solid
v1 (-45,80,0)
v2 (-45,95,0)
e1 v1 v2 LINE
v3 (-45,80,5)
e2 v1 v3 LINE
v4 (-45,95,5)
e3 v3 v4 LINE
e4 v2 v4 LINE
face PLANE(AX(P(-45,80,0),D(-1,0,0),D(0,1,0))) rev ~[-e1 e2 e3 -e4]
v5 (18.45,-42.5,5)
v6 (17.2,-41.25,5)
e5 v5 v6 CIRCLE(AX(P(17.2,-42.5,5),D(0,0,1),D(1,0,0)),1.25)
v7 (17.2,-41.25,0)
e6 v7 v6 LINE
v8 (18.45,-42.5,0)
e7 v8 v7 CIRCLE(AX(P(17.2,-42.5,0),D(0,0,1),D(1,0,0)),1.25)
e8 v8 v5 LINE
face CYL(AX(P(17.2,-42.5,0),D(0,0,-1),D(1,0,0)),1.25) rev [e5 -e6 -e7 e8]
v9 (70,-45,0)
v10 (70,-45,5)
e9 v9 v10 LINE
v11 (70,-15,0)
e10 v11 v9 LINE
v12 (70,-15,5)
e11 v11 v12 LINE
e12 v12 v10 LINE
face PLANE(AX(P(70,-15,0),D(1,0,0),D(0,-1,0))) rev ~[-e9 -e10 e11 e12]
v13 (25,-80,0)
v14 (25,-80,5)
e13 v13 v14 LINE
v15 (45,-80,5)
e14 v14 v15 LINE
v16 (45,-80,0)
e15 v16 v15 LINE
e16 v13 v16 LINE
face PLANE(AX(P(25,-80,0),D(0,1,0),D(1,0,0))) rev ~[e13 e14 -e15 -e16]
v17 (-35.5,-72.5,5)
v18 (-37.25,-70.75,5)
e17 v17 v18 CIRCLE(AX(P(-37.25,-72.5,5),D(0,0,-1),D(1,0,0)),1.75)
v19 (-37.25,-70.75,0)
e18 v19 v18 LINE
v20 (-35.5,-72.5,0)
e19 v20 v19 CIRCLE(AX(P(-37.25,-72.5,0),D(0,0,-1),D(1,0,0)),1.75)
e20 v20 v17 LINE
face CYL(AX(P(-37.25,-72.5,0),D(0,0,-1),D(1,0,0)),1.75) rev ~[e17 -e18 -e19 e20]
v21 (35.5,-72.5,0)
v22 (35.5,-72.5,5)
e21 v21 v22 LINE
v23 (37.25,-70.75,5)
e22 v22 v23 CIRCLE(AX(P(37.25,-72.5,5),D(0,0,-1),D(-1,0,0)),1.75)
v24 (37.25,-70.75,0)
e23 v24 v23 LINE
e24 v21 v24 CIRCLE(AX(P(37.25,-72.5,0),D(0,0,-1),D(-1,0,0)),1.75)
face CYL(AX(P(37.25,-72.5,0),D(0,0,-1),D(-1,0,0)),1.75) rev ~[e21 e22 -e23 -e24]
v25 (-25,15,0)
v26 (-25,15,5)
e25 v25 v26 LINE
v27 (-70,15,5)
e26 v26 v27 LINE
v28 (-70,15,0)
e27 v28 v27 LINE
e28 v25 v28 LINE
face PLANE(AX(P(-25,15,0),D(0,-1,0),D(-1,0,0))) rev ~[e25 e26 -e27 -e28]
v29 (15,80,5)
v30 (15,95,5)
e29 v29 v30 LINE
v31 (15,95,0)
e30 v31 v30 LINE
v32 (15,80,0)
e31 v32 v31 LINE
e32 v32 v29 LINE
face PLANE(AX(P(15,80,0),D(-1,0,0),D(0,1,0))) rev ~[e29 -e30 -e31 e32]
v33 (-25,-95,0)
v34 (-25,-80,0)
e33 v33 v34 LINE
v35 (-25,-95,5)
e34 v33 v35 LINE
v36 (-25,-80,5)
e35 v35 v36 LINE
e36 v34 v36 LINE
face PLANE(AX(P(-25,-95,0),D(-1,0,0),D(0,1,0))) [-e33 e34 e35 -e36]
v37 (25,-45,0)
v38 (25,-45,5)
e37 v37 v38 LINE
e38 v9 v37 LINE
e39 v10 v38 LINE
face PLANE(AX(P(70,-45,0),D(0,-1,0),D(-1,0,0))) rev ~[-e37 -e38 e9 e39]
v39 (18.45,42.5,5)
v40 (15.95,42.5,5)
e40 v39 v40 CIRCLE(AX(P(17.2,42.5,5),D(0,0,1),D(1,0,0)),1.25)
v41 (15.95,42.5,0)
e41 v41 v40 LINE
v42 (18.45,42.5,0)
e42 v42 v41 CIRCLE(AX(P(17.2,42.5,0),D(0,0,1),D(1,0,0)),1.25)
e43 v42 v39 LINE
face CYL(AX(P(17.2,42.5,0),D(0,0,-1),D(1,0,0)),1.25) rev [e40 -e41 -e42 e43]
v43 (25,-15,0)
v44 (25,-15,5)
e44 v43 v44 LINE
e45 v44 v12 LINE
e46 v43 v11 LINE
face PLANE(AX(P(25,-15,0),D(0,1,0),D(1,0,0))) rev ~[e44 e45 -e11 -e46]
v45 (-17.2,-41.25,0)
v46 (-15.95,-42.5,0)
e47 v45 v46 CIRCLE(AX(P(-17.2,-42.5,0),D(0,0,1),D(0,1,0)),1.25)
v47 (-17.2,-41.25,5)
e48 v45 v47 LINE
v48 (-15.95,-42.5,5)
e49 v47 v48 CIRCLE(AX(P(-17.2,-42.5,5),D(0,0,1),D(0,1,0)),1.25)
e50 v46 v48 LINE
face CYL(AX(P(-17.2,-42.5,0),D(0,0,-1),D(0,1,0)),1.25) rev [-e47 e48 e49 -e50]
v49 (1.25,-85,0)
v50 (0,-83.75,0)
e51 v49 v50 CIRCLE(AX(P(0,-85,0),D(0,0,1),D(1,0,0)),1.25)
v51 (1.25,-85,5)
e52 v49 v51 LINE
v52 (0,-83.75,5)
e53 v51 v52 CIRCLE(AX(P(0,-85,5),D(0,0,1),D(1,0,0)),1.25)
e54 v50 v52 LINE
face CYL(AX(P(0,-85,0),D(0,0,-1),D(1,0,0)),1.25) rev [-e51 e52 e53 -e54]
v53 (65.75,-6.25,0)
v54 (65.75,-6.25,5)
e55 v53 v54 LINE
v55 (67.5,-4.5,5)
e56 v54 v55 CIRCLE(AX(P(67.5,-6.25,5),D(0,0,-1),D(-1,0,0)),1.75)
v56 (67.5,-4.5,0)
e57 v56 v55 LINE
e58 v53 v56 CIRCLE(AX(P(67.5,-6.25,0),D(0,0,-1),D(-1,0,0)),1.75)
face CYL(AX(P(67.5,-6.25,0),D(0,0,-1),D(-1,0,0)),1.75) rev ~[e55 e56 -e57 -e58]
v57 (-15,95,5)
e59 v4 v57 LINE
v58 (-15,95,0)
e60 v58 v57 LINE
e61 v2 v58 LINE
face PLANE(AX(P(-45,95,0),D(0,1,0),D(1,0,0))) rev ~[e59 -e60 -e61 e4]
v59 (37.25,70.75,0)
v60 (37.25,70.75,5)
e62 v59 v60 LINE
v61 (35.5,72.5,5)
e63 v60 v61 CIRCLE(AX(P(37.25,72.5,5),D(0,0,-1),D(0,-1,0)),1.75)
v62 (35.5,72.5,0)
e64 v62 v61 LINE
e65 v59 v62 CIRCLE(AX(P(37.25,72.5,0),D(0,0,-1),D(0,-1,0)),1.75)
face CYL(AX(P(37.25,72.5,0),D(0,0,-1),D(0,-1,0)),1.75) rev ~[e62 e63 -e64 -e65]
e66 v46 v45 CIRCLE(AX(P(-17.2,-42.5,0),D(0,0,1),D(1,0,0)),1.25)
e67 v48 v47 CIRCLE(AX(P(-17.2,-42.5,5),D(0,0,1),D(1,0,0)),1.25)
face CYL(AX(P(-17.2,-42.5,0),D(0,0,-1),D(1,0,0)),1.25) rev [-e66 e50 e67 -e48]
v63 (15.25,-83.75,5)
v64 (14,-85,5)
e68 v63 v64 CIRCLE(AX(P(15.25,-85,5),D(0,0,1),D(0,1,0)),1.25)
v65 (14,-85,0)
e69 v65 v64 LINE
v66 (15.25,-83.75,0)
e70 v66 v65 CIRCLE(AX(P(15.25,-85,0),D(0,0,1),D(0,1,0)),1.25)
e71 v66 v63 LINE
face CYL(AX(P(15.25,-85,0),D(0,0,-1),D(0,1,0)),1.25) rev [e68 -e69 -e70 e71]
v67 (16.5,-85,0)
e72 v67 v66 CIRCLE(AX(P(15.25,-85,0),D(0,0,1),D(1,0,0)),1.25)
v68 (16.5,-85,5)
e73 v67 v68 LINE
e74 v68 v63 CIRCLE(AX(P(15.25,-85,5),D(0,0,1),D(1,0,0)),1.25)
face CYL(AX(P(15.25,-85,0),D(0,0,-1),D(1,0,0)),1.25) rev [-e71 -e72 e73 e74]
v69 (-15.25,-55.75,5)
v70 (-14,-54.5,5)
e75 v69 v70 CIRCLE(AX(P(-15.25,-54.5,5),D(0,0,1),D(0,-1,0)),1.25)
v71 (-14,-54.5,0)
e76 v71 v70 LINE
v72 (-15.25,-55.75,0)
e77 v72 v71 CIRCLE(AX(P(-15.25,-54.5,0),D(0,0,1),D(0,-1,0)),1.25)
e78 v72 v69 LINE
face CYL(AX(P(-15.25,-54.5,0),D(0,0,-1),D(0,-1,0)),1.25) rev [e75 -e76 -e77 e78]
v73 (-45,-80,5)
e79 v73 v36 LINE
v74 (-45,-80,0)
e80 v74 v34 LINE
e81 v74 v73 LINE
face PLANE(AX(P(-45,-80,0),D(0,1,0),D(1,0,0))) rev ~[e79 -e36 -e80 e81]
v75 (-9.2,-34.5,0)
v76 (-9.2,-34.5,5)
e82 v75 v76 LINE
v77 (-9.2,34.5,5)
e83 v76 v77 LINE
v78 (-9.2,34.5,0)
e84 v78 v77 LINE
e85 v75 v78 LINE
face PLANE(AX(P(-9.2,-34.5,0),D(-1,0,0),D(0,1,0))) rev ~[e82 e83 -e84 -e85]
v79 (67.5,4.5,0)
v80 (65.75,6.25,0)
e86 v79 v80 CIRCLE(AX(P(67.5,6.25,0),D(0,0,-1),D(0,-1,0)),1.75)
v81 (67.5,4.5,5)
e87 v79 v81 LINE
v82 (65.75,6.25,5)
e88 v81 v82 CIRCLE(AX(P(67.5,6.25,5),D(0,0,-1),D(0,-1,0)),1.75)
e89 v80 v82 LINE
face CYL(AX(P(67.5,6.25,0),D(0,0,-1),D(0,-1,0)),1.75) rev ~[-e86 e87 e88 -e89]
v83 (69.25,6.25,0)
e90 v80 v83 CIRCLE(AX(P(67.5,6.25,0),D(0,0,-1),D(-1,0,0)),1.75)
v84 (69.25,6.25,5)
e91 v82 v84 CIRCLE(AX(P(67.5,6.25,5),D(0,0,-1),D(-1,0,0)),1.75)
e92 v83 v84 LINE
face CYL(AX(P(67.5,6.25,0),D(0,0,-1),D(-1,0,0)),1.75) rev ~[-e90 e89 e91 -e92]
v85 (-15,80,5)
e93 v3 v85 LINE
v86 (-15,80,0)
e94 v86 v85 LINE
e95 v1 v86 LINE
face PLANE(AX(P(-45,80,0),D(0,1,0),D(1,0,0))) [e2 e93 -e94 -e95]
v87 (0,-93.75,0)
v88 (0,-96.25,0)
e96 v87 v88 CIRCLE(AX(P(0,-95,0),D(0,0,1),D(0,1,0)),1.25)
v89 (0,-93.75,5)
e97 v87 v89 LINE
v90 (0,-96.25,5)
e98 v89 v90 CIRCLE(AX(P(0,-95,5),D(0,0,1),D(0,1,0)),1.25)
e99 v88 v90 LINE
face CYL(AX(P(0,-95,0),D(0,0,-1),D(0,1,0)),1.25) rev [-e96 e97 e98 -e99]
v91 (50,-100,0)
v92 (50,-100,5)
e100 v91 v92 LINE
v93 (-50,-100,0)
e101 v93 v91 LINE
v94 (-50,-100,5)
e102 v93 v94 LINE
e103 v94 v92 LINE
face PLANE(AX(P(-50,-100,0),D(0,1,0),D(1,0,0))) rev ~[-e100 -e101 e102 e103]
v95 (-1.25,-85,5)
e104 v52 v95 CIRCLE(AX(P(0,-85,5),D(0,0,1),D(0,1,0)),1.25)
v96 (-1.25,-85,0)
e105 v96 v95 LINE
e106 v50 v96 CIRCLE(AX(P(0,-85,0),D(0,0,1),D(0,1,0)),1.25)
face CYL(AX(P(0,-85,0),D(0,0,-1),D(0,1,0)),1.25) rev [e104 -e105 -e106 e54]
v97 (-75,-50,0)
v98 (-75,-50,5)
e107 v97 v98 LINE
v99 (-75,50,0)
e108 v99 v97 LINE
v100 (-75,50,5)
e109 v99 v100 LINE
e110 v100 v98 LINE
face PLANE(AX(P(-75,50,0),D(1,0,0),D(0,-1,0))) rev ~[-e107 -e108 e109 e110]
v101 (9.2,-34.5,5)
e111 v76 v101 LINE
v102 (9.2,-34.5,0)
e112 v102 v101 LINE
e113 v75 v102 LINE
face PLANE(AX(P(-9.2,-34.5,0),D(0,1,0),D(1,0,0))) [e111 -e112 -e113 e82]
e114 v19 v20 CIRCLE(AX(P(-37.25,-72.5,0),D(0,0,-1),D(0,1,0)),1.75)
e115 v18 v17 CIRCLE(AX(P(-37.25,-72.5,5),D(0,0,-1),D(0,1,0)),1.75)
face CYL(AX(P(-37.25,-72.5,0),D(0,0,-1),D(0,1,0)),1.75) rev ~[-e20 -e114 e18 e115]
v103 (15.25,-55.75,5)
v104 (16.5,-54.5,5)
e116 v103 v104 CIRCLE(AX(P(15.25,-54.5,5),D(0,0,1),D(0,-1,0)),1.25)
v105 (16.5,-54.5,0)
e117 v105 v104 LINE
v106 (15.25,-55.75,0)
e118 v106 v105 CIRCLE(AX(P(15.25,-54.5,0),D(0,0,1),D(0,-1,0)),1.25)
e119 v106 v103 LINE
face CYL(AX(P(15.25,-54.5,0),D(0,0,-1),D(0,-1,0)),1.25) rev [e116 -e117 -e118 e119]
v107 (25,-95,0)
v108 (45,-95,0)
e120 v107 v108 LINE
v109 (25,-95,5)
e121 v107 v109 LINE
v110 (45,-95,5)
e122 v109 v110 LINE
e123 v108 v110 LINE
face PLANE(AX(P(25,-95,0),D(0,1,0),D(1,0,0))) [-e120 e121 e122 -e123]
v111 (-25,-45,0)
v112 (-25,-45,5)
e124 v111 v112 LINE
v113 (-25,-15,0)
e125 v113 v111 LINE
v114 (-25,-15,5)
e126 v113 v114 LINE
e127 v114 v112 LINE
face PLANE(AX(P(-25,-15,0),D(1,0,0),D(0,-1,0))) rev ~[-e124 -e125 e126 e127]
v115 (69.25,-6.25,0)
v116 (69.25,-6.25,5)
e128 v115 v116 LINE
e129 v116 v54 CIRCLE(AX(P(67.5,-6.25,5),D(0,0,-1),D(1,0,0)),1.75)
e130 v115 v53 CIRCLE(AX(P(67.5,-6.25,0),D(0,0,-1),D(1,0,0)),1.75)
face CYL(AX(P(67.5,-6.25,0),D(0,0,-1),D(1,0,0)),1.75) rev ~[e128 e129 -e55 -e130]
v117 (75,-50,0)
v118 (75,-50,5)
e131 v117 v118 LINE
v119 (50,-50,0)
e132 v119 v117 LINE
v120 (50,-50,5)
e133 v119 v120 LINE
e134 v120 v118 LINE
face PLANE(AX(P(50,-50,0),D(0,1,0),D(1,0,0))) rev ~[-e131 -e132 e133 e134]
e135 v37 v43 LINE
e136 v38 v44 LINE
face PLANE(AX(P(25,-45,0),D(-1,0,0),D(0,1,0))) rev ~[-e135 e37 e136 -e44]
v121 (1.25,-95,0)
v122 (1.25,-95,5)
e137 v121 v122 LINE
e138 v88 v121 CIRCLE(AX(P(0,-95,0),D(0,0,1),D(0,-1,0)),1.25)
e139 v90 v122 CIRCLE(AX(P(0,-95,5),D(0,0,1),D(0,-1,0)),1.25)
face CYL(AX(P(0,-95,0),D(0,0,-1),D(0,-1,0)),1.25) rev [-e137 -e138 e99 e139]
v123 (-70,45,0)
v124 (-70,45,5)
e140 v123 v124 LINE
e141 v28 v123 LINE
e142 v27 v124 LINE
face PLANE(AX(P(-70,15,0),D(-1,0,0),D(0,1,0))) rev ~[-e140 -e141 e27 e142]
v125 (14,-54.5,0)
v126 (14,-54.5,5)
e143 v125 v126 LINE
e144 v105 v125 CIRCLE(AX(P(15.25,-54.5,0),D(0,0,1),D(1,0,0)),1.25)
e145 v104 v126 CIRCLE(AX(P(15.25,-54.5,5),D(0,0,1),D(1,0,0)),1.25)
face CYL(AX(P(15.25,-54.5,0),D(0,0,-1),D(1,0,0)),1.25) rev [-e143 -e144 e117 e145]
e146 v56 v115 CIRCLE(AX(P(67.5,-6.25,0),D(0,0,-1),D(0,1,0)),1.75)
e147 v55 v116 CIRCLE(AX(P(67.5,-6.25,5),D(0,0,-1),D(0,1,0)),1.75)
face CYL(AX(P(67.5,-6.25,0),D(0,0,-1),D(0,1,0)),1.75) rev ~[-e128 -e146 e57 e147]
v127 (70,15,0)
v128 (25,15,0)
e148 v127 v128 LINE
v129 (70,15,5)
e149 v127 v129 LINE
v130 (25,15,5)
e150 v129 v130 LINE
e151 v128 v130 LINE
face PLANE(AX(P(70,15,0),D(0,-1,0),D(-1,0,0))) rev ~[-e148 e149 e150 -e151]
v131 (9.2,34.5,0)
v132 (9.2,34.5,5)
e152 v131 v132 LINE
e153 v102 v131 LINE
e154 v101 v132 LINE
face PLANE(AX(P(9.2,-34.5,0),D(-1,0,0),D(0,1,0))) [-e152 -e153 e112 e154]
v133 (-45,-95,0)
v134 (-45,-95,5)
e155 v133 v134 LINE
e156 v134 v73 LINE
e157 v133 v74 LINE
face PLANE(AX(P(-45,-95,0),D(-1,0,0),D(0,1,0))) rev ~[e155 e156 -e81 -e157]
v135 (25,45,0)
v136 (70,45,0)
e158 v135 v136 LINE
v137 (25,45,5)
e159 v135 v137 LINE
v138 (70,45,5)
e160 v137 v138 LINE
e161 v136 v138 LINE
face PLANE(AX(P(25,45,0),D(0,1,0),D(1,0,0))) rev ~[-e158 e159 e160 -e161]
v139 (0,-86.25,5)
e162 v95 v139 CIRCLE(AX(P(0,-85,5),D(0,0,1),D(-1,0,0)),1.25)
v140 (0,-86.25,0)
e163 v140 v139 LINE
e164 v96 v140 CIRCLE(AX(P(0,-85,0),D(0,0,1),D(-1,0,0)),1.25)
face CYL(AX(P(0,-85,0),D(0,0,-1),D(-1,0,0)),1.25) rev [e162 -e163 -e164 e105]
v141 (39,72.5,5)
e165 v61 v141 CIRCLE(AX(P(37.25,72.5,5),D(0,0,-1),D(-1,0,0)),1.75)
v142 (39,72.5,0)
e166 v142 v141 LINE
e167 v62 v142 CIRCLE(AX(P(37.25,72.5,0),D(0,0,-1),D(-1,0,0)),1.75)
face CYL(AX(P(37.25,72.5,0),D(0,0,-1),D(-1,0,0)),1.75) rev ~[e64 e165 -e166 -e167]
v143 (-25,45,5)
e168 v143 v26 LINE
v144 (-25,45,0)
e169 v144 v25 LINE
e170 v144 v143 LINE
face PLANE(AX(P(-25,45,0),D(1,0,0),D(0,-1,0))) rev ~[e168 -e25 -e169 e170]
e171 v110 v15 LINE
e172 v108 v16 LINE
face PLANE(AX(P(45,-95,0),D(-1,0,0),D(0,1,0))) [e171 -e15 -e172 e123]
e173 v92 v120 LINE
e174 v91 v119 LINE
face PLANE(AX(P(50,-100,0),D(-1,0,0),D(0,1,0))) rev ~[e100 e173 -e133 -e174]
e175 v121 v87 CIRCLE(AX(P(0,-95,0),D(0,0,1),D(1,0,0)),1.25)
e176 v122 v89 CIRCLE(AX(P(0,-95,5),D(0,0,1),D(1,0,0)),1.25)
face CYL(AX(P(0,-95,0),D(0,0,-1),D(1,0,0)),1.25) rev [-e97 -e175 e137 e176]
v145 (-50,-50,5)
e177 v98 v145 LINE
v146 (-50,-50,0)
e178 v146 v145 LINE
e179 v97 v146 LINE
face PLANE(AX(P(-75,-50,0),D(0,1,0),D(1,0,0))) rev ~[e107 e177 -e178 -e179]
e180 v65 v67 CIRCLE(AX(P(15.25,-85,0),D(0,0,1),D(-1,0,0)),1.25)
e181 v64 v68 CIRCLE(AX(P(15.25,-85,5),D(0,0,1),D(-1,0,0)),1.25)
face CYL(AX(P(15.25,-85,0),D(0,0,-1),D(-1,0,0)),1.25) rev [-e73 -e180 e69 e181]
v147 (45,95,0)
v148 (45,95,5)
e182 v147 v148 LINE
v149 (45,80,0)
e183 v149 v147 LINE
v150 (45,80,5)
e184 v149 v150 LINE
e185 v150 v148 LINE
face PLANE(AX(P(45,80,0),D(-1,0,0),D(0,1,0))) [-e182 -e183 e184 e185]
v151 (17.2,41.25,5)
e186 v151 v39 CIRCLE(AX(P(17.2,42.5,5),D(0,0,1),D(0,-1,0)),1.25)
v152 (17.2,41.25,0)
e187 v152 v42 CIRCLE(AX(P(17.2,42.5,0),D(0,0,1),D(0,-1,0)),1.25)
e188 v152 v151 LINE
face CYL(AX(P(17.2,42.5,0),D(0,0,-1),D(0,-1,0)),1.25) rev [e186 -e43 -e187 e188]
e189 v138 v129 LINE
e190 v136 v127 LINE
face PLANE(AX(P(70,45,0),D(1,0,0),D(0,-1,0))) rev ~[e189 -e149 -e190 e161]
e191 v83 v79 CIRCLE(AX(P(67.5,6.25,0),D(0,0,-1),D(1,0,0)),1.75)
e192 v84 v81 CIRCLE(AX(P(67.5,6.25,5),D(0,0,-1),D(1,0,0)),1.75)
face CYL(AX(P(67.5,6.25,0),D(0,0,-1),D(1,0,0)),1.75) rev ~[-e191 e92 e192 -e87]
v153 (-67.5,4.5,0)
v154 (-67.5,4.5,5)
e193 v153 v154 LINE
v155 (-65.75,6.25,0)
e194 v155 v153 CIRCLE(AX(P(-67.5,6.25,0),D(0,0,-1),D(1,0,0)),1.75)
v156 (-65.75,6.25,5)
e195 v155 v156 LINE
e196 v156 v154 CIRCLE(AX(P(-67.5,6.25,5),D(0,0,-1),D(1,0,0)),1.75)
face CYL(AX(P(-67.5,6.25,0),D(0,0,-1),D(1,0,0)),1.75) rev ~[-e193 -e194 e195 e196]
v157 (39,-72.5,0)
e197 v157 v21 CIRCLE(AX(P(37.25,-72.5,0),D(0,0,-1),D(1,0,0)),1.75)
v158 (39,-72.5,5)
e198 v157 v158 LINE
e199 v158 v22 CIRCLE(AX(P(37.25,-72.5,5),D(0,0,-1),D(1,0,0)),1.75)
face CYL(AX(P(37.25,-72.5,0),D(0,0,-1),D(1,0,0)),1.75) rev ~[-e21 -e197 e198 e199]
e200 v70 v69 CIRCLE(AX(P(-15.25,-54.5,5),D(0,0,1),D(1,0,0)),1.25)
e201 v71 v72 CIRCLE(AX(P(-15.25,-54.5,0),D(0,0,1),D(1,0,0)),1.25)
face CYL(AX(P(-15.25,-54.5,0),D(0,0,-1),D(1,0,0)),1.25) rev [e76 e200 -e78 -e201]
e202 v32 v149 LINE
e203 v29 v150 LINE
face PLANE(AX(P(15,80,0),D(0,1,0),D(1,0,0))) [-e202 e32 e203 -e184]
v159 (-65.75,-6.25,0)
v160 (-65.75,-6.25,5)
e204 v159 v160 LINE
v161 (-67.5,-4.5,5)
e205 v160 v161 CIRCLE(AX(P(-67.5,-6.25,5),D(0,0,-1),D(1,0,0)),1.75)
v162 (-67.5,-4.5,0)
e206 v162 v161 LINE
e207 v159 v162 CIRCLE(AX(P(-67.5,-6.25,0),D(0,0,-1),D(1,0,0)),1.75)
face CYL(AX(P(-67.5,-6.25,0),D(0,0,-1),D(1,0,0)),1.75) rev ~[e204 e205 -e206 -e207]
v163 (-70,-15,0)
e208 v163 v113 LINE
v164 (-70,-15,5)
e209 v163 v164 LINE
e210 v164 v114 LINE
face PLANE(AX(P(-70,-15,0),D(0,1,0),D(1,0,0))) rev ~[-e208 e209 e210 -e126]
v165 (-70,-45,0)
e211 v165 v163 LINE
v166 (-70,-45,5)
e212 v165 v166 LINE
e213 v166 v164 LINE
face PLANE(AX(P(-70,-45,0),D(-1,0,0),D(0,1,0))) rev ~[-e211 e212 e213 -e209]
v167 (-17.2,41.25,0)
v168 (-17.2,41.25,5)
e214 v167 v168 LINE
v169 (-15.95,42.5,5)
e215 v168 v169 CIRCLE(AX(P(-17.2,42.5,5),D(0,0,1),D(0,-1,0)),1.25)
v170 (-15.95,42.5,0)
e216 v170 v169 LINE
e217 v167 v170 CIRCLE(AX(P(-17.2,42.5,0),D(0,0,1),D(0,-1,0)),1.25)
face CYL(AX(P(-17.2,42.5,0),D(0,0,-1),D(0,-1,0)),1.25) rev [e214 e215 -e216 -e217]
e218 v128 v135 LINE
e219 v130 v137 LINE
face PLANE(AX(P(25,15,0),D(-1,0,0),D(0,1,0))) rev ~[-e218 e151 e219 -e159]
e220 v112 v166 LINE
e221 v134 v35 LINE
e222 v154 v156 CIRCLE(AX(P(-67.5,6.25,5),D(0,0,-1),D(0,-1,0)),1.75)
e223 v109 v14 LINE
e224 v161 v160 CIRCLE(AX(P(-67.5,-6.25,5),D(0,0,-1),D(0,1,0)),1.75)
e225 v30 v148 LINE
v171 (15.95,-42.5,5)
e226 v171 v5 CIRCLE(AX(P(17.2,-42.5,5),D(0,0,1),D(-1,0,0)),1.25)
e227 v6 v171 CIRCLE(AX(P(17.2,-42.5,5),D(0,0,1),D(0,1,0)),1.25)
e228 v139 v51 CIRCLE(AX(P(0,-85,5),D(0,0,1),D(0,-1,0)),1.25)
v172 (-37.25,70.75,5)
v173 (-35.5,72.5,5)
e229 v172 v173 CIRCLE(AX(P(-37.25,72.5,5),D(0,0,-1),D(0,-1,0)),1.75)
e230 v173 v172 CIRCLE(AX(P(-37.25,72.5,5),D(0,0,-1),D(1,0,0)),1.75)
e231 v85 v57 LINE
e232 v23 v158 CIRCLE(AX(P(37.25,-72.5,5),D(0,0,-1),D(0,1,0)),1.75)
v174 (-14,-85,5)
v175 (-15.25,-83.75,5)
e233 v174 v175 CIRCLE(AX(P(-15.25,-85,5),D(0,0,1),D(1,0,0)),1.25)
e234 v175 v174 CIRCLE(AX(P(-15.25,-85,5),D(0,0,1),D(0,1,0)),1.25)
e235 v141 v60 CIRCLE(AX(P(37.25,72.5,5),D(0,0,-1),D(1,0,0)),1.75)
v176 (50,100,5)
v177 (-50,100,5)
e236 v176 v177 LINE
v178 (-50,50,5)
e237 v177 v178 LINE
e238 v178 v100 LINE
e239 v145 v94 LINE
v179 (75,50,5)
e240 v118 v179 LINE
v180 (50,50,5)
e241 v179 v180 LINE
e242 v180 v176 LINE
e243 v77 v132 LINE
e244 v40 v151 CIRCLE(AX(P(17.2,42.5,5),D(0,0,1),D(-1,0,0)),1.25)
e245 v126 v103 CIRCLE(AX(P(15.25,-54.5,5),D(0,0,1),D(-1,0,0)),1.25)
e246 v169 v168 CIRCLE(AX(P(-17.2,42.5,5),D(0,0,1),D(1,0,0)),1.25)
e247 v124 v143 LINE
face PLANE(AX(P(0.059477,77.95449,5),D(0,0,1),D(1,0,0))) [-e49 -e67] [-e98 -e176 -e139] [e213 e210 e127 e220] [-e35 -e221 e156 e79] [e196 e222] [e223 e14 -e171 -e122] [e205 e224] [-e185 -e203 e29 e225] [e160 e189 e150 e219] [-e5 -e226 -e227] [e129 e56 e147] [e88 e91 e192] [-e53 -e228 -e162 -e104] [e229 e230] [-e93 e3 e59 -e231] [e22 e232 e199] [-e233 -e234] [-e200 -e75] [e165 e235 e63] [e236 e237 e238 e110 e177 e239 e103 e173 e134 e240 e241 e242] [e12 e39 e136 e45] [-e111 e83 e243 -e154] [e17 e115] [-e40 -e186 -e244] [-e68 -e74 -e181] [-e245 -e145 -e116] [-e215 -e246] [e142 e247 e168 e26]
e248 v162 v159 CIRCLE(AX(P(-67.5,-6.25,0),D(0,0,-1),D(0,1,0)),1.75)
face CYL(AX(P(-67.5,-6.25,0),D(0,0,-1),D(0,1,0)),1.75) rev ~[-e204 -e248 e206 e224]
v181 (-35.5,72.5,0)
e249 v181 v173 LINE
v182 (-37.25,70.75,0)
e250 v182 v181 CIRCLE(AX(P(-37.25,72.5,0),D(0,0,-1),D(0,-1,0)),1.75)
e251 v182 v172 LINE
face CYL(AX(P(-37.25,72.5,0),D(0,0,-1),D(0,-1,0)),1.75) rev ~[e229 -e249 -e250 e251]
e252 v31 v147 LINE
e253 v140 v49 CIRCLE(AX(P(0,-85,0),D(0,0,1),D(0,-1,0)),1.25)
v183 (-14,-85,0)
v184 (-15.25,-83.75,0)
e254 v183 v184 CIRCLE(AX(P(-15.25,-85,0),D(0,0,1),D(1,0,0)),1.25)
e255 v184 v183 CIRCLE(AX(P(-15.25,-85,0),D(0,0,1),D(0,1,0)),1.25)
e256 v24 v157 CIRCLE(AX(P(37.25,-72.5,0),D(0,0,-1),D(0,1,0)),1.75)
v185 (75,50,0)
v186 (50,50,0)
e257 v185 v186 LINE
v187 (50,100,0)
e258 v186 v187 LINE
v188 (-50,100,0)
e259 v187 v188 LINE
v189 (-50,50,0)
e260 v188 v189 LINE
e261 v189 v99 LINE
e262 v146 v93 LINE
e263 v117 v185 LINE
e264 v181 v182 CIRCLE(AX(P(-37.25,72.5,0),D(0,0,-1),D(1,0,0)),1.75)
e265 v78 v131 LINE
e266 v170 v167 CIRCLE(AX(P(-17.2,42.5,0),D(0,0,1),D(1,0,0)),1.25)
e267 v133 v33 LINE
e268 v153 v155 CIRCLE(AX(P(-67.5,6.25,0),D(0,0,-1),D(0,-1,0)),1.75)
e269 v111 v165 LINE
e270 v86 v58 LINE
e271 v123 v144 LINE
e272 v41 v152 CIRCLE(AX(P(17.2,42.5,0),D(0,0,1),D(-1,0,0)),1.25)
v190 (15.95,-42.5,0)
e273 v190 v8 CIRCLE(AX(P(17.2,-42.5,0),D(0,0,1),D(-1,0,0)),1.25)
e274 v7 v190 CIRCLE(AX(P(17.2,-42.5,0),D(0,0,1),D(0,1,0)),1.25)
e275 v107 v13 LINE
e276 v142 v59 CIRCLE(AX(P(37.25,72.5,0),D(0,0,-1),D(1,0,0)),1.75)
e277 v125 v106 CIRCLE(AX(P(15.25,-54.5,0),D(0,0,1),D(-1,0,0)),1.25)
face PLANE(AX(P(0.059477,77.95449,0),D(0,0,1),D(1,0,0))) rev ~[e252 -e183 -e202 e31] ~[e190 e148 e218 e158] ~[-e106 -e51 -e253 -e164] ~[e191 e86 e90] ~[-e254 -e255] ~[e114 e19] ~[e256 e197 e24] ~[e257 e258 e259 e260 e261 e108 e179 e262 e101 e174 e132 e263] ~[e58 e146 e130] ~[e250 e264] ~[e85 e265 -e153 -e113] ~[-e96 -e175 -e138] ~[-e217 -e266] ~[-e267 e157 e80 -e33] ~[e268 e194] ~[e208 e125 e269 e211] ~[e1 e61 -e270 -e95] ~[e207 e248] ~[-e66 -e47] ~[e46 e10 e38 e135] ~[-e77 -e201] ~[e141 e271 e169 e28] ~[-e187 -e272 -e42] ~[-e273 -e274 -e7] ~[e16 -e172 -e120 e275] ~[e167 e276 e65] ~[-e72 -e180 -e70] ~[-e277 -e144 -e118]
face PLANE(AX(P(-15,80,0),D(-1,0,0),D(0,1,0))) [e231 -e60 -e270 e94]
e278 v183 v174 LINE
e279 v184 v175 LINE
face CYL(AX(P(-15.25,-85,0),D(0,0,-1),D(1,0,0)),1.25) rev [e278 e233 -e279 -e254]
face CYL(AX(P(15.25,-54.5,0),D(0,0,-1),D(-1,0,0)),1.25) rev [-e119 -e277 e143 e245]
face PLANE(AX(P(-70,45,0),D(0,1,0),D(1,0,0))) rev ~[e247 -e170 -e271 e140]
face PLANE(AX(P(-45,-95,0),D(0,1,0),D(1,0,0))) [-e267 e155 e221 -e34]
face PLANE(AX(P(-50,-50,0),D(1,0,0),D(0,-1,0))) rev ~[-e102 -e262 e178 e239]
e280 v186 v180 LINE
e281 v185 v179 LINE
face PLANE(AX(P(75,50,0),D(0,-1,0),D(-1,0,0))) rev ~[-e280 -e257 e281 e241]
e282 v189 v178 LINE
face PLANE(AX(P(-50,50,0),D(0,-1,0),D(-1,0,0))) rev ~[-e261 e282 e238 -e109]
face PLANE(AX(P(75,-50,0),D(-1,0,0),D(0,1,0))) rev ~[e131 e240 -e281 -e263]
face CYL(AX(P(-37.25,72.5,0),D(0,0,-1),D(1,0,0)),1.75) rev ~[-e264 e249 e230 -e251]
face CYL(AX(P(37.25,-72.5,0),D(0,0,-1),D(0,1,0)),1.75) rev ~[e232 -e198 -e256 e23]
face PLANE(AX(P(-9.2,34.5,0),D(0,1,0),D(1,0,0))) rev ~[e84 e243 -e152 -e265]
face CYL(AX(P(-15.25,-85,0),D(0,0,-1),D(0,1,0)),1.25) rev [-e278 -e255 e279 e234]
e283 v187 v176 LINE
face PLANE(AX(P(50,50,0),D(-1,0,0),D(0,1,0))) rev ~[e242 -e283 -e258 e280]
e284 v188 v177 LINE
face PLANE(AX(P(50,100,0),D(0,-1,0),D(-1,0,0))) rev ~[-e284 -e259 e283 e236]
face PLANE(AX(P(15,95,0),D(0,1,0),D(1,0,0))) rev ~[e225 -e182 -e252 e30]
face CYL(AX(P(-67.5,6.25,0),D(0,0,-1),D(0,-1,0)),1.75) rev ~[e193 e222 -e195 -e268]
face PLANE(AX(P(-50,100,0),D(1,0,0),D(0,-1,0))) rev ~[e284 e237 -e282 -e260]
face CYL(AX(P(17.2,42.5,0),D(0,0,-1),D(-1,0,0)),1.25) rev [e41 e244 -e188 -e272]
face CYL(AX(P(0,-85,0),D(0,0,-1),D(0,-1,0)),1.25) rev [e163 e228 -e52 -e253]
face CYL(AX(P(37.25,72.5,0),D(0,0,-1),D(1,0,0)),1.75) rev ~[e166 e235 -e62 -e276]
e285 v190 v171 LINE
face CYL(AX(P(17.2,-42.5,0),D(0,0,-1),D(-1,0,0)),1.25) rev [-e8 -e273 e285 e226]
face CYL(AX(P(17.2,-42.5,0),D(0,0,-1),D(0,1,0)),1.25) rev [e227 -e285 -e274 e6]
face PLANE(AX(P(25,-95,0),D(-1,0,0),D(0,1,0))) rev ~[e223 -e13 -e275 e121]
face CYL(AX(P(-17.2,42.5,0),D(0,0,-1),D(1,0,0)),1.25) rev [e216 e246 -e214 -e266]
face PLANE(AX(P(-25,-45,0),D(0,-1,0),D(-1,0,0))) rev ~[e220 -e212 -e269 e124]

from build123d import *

# Parameters (mm, degrees)
F1_W     = 30
F1_H     = 15
F1_W_2   = 12.75
F1_H_2   = 5
F1_W_3   = 20
F1_W_4   = 74.5
F1_H_3   = 12.5
F1_H_4   = 8.75
F3_DEPTH = 5
F2_W     = 18.4
F2_H     = 69
F4_DEPTH = 5


with BuildPart() as f3:
    # F1 (on Top) → F3 (new body)
    with BuildSketch(Plane.XY):
        with BuildLine():
            Line((50, 100), (-50, 100))
            Line((-50, 100), (-50, 50))
            Line((-50, 50), (-37.25, 50))
            Line((-37.25, 50), (-37.25, 70.75))
            ThreePointArc((-37.25, 70.75), (-38.4874368671, 73.7374368671), (-35.5, 72.5))
            Line((-35.5, 72.5), (35.5, 72.5))
            ThreePointArc((35.5, 72.5), (37.25, 74.25), (39, 72.5))
            ThreePointArc((39, 72.5), (38.4874368671, 71.2625631329), (37.25, 70.75))
            Line((37.25, 70.75), (37.25, 50))
            Line((37.25, 50), (50, 50))
            Line((50, 50), (50, 100))
        make_face()
        with Locations((-30, 87.5)):
            Rectangle(F1_W, F1_H, mode=Mode.SUBTRACT)
        with Locations((30, 87.5)):
            Rectangle(F1_W, F1_H, mode=Mode.SUBTRACT)
        with Locations((-43.625, 47.5)):
            Rectangle(F1_W_2, F1_H_2)
        with BuildLine():
            Line((-50, 45), (-50, 50))
            Line((-50, 50), (-75, 50))
            Line((-75, 50), (-75, -50))
            Line((-75, -50), (-50, -50))
            Line((-50, -50), (-50, -45))
            Line((-50, -45), (-70, -45))
            Line((-70, -45), (-70, -15))
            Line((-70, -15), (-50, -15))
            Line((-50, -15), (-50, -6.25))
            Line((-50, -6.25), (-65.75, -6.25))
            ThreePointArc((-65.75, -6.25), (-68.7374368671, -7.4874368671), (-67.5, -4.5))
            Line((-67.5, -4.5), (-67.5, 4.5))
            ThreePointArc((-67.5, 4.5), (-68.7374368671, 7.4874368671), (-65.75, 6.25))
            Line((-65.75, 6.25), (-50, 6.25))
            Line((-50, 6.25), (-50, 15))
            Line((-50, 15), (-70, 15))
            Line((-70, 15), (-70, 45))
            Line((-70, 45), (-50, 45))
        make_face()
        with BuildLine():
            Line((75, 50), (50, 50))
            Line((50, 50), (50, 45))
            Line((50, 45), (70, 45))
            Line((70, 45), (70, 15))
            Line((70, 15), (50, 15))
            Line((50, 15), (50, 6.25))
            Line((50, 6.25), (65.75, 6.25))
            ThreePointArc((65.75, 6.25), (67.5, 8), (69.25, 6.25))
            ThreePointArc((69.25, 6.25), (68.7374368671, 5.0125631329), (67.5, 4.5))
            Line((67.5, 4.5), (67.5, -4.5))
            ThreePointArc((67.5, -4.5), (68.7374368671, -5.0125631329), (69.25, -6.25))
            ThreePointArc((69.25, -6.25), (67.5, -8), (65.75, -6.25))
            Line((65.75, -6.25), (50, -6.25))
            Line((50, -6.25), (50, -15))
            Line((50, -15), (70, -15))
            Line((70, -15), (70, -45))
            Line((70, -45), (50, -45))
            Line((50, -45), (50, -50))
            Line((50, -50), (75, -50))
            Line((75, -50), (75, 50))
        make_face()
        with Locations((43.625, 47.5)):
            Rectangle(F1_W_2, F1_H_2)
        with BuildLine():
            Line((-37.25, -50), (-50, -50))
            Line((-50, -50), (-50, -100))
            Line((-50, -100), (50, -100))
            Line((50, -100), (50, -50))
            Line((50, -50), (37.25, -50))
            Line((37.25, -50), (37.25, -70.75))
            ThreePointArc((37.25, -70.75), (38.4874368671, -71.2625631329), (39, -72.5))
            ThreePointArc((39, -72.5), (37.25, -74.25), (35.5, -72.5))
            Line((35.5, -72.5), (-35.5, -72.5))
            ThreePointArc((-35.5, -72.5), (-38.4874368671, -73.7374368671), (-37.25, -70.75))
            Line((-37.25, -70.75), (-37.25, -50))
        make_face()
        with Locations((-35, -87.5)):
            Rectangle(F1_W_3, F1_H, mode=Mode.SUBTRACT)
        with Locations((35, -87.5)):
            Rectangle(F1_W_3, F1_H, mode=Mode.SUBTRACT)
        with Locations((-43.625, -47.5)):
            Rectangle(F1_W_2, F1_H_2)
        with Locations((43.625, -47.5)):
            Rectangle(F1_W_2, F1_H_2)
        with BuildLine():
            Line((37.25, -50), (-37.25, -50))
            Line((-37.25, -50), (-37.25, -70.75))
            ThreePointArc((-37.25, -70.75), (-36.0125631329, -71.2625631329), (-35.5, -72.5))
            Line((-35.5, -72.5), (35.5, -72.5))
            ThreePointArc((35.5, -72.5), (36.0125631329, -71.2625631329), (37.25, -70.75))
            Line((37.25, -70.75), (37.25, -50))
        make_face()
        Polygon((-37.25, -45), (-37.25, -50), (37.25, -50), (37.25, -45), (25, -45), (25, -15), (37.25, -15), (37.25, -6.25), (-37.25, -6.25), (-37.25, -15), (-25, -15), (-25, -45), align=None)
        Polygon((37.25, 50), (-37.25, 50), (-37.25, 45), (-25, 45), (-25, 15), (-37.25, 15), (-37.25, 6.25), (37.25, 6.25), (37.25, 15), (25, 15), (25, 45), (37.25, 45), align=None)
        with BuildLine():
            Line((-37.25, 70.75), (-37.25, 50))
            Line((-37.25, 50), (37.25, 50))
            Line((37.25, 50), (37.25, 70.75))
            ThreePointArc((37.25, 70.75), (36.0125631329, 71.2625631329), (35.5, 72.5))
            Line((35.5, 72.5), (-35.5, 72.5))
            ThreePointArc((-35.5, 72.5), (-36.0125631329, 71.2625631329), (-37.25, 70.75))
        make_face()
        Rectangle(F1_W_4, F1_H_3)
        with Locations((-43.625, 10.625)):
            Rectangle(F1_W_2, F1_H_4)
        with Locations((-43.625, -10.625)):
            Rectangle(F1_W_2, F1_H_4)
        with Locations((-43.625, 0)):
            Rectangle(F1_W_2, F1_H_3)
        with Locations((43.625, -10.625)):
            Rectangle(F1_W_2, F1_H_4)
        with Locations((43.625, 0)):
            Rectangle(F1_W_2, F1_H_3)
        with Locations((43.625, 10.625)):
            Rectangle(F1_W_2, F1_H_4)
        with BuildLine():
            Line((65.75, 6.25), (50, 6.25))
            Line((50, 6.25), (50, -6.25))
            Line((50, -6.25), (65.75, -6.25))
            ThreePointArc((65.75, -6.25), (66.2625631329, -5.0125631329), (67.5, -4.5))
            Line((67.5, -4.5), (67.5, 4.5))
            ThreePointArc((67.5, 4.5), (66.2625631329, 5.0125631329), (65.75, 6.25))
        make_face()
        with BuildLine():
            Line((-50, -6.25), (-50, 6.25))
            Line((-50, 6.25), (-65.75, 6.25))
            ThreePointArc((-65.75, 6.25), (-66.2625631329, 5.0125631329), (-67.5, 4.5))
            Line((-67.5, 4.5), (-67.5, -4.5))
            ThreePointArc((-67.5, -4.5), (-66.2625631329, -5.0125631329), (-65.75, -6.25))
            Line((-65.75, -6.25), (-50, -6.25))
        make_face()
    extrude(amount=F3_DEPTH)

    # F2 (on face) → F4 (cut)
    with BuildSketch(Plane.XY):
        with BuildLine():
            Line((15.25, -85), (14, -85))
            ThreePointArc((14, -85), (15.25, -86.25), (16.5, -85))
            ThreePointArc((16.5, -85), (16.1338834765, -84.1161165235), (15.25, -83.75))
            Line((15.25, -83.75), (15.25, -85))
        make_face()
        with BuildLine():
            ThreePointArc((-1.25, -85), (-0.8838834765, -85.8838834765), (0, -86.25))
            Line((0, -86.25), (0, -85))
            Line((0, -85), (-1.25, -85))
        make_face()
        with BuildLine():
            Line((0, -83.75), (0, -85))
            Line((0, -85), (1.25, -85))
            ThreePointArc((1.25, -85), (0.8838834765, -84.1161165235), (0, -83.75))
        make_face()
        with BuildLine():
            Line((0, -85), (0, -86.25))
            ThreePointArc((0, -86.25), (0.8838834765, -85.8838834765), (1.25, -85))
            Line((1.25, -85), (0, -85))
        make_face()
        with BuildLine():
            Line((-1.25, -85), (0, -85))
            Line((0, -85), (0, -83.75))
            ThreePointArc((0, -83.75), (-0.8838834765, -84.1161165235), (-1.25, -85))
        make_face()
        with BuildLine():
            ThreePointArc((0, -93.75), (-1.25, -95), (0, -96.25))
            Line((0, -96.25), (0, -93.75))
        make_face()
        with BuildLine():
            Line((0, -93.75), (0, -96.25))
            ThreePointArc((0, -96.25), (0.8838834765, -95.8838834765), (1.25, -95))
            ThreePointArc((1.25, -95), (0.8838834765, -94.1161165235), (0, -93.75))
        make_face()
        with BuildLine():
            ThreePointArc((15.25, -83.75), (14.3661165235, -84.1161165235), (14, -85))
            Line((14, -85), (15.25, -85))
            Line((15.25, -85), (15.25, -83.75))
        make_face()
        with BuildLine():
            ThreePointArc((-15.25, -83.75), (-16.1338834765, -85.8838834765), (-14, -85))
            Line((-14, -85), (-15.25, -85))
            Line((-15.25, -85), (-15.25, -83.75))
        make_face()
        with BuildLine():
            Line((-15.25, -85), (-14, -85))
            ThreePointArc((-14, -85), (-14.3661165235, -84.1161165235), (-15.25, -83.75))
            Line((-15.25, -83.75), (-15.25, -85))
        make_face()
        with BuildLine():
            Line((15.25, -54.5), (15.25, -55.75))
            ThreePointArc((15.25, -55.75), (16.1338834765, -55.3838834765), (16.5, -54.5))
            ThreePointArc((16.5, -54.5), (15.25, -53.25), (14, -54.5))
            Line((14, -54.5), (15.25, -54.5))
        make_face()
        with BuildLine():
            ThreePointArc((14, -54.5), (14.3661165235, -55.3838834765), (15.25, -55.75))
            Line((15.25, -55.75), (15.25, -54.5))
            Line((15.25, -54.5), (14, -54.5))
        make_face()
        with BuildLine():
            Line((-15.25, -54.5), (-15.25, -55.75))
            ThreePointArc((-15.25, -55.75), (-14.3661165235, -55.3838834765), (-14, -54.5))
            Line((-14, -54.5), (-15.25, -54.5))
        make_face()
        with BuildLine():
            ThreePointArc((-14, -54.5), (-16.1338834765, -53.6161165235), (-15.25, -55.75))
            Line((-15.25, -55.75), (-15.25, -54.5))
            Line((-15.25, -54.5), (-14, -54.5))
        make_face()
        with BuildLine():
            Line((17.2, -42.5), (15.95, -42.5))
            ThreePointArc((15.95, -42.5), (17.2, -43.75), (18.45, -42.5))
            ThreePointArc((18.45, -42.5), (18.0838834765, -41.6161165235), (17.2, -41.25))
            Line((17.2, -41.25), (17.2, -42.5))
        make_face()
        with BuildLine():
            ThreePointArc((17.2, -41.25), (16.3161165235, -41.6161165235), (15.95, -42.5))
            Line((15.95, -42.5), (17.2, -42.5))
            Line((17.2, -42.5), (17.2, -41.25))
        make_face()
        with BuildLine():
            Line((-17.2, -42.5), (-15.95, -42.5))
            ThreePointArc((-15.95, -42.5), (-16.3161165235, -41.6161165235), (-17.2, -41.25))
            Line((-17.2, -41.25), (-17.2, -42.5))
        make_face()
        with BuildLine():
            ThreePointArc((-17.2, -41.25), (-18.0838834765, -43.3838834765), (-15.95, -42.5))
            Line((-15.95, -42.5), (-17.2, -42.5))
            Line((-17.2, -42.5), (-17.2, -41.25))
        make_face()
        with BuildLine():
            ThreePointArc((-15.95, 42.5), (-18.0838834765, 43.3838834765), (-17.2, 41.25))
            Line((-17.2, 41.25), (-17.2, 42.5))
            Line((-17.2, 42.5), (-15.95, 42.5))
        make_face()
        with BuildLine():
            Line((-17.2, 42.5), (-17.2, 41.25))
            ThreePointArc((-17.2, 41.25), (-16.3161165235, 41.6161165235), (-15.95, 42.5))
            Line((-15.95, 42.5), (-17.2, 42.5))
        make_face()
        with BuildLine():
            ThreePointArc((15.95, 42.5), (16.3161165235, 41.6161165235), (17.2, 41.25))
            Line((17.2, 41.25), (17.2, 42.5))
            Line((17.2, 42.5), (15.95, 42.5))
        make_face()
        with BuildLine():
            Line((17.2, 42.5), (17.2, 41.25))
            ThreePointArc((17.2, 41.25), (18.0838834765, 41.6161165235), (18.45, 42.5))
            ThreePointArc((18.45, 42.5), (17.2, 43.75), (15.95, 42.5))
            Line((15.95, 42.5), (17.2, 42.5))
        make_face()
        Rectangle(F2_W, F2_H)
    extrude(amount=F4_DEPTH, mode=Mode.SUBTRACT)


solid = f3.part
